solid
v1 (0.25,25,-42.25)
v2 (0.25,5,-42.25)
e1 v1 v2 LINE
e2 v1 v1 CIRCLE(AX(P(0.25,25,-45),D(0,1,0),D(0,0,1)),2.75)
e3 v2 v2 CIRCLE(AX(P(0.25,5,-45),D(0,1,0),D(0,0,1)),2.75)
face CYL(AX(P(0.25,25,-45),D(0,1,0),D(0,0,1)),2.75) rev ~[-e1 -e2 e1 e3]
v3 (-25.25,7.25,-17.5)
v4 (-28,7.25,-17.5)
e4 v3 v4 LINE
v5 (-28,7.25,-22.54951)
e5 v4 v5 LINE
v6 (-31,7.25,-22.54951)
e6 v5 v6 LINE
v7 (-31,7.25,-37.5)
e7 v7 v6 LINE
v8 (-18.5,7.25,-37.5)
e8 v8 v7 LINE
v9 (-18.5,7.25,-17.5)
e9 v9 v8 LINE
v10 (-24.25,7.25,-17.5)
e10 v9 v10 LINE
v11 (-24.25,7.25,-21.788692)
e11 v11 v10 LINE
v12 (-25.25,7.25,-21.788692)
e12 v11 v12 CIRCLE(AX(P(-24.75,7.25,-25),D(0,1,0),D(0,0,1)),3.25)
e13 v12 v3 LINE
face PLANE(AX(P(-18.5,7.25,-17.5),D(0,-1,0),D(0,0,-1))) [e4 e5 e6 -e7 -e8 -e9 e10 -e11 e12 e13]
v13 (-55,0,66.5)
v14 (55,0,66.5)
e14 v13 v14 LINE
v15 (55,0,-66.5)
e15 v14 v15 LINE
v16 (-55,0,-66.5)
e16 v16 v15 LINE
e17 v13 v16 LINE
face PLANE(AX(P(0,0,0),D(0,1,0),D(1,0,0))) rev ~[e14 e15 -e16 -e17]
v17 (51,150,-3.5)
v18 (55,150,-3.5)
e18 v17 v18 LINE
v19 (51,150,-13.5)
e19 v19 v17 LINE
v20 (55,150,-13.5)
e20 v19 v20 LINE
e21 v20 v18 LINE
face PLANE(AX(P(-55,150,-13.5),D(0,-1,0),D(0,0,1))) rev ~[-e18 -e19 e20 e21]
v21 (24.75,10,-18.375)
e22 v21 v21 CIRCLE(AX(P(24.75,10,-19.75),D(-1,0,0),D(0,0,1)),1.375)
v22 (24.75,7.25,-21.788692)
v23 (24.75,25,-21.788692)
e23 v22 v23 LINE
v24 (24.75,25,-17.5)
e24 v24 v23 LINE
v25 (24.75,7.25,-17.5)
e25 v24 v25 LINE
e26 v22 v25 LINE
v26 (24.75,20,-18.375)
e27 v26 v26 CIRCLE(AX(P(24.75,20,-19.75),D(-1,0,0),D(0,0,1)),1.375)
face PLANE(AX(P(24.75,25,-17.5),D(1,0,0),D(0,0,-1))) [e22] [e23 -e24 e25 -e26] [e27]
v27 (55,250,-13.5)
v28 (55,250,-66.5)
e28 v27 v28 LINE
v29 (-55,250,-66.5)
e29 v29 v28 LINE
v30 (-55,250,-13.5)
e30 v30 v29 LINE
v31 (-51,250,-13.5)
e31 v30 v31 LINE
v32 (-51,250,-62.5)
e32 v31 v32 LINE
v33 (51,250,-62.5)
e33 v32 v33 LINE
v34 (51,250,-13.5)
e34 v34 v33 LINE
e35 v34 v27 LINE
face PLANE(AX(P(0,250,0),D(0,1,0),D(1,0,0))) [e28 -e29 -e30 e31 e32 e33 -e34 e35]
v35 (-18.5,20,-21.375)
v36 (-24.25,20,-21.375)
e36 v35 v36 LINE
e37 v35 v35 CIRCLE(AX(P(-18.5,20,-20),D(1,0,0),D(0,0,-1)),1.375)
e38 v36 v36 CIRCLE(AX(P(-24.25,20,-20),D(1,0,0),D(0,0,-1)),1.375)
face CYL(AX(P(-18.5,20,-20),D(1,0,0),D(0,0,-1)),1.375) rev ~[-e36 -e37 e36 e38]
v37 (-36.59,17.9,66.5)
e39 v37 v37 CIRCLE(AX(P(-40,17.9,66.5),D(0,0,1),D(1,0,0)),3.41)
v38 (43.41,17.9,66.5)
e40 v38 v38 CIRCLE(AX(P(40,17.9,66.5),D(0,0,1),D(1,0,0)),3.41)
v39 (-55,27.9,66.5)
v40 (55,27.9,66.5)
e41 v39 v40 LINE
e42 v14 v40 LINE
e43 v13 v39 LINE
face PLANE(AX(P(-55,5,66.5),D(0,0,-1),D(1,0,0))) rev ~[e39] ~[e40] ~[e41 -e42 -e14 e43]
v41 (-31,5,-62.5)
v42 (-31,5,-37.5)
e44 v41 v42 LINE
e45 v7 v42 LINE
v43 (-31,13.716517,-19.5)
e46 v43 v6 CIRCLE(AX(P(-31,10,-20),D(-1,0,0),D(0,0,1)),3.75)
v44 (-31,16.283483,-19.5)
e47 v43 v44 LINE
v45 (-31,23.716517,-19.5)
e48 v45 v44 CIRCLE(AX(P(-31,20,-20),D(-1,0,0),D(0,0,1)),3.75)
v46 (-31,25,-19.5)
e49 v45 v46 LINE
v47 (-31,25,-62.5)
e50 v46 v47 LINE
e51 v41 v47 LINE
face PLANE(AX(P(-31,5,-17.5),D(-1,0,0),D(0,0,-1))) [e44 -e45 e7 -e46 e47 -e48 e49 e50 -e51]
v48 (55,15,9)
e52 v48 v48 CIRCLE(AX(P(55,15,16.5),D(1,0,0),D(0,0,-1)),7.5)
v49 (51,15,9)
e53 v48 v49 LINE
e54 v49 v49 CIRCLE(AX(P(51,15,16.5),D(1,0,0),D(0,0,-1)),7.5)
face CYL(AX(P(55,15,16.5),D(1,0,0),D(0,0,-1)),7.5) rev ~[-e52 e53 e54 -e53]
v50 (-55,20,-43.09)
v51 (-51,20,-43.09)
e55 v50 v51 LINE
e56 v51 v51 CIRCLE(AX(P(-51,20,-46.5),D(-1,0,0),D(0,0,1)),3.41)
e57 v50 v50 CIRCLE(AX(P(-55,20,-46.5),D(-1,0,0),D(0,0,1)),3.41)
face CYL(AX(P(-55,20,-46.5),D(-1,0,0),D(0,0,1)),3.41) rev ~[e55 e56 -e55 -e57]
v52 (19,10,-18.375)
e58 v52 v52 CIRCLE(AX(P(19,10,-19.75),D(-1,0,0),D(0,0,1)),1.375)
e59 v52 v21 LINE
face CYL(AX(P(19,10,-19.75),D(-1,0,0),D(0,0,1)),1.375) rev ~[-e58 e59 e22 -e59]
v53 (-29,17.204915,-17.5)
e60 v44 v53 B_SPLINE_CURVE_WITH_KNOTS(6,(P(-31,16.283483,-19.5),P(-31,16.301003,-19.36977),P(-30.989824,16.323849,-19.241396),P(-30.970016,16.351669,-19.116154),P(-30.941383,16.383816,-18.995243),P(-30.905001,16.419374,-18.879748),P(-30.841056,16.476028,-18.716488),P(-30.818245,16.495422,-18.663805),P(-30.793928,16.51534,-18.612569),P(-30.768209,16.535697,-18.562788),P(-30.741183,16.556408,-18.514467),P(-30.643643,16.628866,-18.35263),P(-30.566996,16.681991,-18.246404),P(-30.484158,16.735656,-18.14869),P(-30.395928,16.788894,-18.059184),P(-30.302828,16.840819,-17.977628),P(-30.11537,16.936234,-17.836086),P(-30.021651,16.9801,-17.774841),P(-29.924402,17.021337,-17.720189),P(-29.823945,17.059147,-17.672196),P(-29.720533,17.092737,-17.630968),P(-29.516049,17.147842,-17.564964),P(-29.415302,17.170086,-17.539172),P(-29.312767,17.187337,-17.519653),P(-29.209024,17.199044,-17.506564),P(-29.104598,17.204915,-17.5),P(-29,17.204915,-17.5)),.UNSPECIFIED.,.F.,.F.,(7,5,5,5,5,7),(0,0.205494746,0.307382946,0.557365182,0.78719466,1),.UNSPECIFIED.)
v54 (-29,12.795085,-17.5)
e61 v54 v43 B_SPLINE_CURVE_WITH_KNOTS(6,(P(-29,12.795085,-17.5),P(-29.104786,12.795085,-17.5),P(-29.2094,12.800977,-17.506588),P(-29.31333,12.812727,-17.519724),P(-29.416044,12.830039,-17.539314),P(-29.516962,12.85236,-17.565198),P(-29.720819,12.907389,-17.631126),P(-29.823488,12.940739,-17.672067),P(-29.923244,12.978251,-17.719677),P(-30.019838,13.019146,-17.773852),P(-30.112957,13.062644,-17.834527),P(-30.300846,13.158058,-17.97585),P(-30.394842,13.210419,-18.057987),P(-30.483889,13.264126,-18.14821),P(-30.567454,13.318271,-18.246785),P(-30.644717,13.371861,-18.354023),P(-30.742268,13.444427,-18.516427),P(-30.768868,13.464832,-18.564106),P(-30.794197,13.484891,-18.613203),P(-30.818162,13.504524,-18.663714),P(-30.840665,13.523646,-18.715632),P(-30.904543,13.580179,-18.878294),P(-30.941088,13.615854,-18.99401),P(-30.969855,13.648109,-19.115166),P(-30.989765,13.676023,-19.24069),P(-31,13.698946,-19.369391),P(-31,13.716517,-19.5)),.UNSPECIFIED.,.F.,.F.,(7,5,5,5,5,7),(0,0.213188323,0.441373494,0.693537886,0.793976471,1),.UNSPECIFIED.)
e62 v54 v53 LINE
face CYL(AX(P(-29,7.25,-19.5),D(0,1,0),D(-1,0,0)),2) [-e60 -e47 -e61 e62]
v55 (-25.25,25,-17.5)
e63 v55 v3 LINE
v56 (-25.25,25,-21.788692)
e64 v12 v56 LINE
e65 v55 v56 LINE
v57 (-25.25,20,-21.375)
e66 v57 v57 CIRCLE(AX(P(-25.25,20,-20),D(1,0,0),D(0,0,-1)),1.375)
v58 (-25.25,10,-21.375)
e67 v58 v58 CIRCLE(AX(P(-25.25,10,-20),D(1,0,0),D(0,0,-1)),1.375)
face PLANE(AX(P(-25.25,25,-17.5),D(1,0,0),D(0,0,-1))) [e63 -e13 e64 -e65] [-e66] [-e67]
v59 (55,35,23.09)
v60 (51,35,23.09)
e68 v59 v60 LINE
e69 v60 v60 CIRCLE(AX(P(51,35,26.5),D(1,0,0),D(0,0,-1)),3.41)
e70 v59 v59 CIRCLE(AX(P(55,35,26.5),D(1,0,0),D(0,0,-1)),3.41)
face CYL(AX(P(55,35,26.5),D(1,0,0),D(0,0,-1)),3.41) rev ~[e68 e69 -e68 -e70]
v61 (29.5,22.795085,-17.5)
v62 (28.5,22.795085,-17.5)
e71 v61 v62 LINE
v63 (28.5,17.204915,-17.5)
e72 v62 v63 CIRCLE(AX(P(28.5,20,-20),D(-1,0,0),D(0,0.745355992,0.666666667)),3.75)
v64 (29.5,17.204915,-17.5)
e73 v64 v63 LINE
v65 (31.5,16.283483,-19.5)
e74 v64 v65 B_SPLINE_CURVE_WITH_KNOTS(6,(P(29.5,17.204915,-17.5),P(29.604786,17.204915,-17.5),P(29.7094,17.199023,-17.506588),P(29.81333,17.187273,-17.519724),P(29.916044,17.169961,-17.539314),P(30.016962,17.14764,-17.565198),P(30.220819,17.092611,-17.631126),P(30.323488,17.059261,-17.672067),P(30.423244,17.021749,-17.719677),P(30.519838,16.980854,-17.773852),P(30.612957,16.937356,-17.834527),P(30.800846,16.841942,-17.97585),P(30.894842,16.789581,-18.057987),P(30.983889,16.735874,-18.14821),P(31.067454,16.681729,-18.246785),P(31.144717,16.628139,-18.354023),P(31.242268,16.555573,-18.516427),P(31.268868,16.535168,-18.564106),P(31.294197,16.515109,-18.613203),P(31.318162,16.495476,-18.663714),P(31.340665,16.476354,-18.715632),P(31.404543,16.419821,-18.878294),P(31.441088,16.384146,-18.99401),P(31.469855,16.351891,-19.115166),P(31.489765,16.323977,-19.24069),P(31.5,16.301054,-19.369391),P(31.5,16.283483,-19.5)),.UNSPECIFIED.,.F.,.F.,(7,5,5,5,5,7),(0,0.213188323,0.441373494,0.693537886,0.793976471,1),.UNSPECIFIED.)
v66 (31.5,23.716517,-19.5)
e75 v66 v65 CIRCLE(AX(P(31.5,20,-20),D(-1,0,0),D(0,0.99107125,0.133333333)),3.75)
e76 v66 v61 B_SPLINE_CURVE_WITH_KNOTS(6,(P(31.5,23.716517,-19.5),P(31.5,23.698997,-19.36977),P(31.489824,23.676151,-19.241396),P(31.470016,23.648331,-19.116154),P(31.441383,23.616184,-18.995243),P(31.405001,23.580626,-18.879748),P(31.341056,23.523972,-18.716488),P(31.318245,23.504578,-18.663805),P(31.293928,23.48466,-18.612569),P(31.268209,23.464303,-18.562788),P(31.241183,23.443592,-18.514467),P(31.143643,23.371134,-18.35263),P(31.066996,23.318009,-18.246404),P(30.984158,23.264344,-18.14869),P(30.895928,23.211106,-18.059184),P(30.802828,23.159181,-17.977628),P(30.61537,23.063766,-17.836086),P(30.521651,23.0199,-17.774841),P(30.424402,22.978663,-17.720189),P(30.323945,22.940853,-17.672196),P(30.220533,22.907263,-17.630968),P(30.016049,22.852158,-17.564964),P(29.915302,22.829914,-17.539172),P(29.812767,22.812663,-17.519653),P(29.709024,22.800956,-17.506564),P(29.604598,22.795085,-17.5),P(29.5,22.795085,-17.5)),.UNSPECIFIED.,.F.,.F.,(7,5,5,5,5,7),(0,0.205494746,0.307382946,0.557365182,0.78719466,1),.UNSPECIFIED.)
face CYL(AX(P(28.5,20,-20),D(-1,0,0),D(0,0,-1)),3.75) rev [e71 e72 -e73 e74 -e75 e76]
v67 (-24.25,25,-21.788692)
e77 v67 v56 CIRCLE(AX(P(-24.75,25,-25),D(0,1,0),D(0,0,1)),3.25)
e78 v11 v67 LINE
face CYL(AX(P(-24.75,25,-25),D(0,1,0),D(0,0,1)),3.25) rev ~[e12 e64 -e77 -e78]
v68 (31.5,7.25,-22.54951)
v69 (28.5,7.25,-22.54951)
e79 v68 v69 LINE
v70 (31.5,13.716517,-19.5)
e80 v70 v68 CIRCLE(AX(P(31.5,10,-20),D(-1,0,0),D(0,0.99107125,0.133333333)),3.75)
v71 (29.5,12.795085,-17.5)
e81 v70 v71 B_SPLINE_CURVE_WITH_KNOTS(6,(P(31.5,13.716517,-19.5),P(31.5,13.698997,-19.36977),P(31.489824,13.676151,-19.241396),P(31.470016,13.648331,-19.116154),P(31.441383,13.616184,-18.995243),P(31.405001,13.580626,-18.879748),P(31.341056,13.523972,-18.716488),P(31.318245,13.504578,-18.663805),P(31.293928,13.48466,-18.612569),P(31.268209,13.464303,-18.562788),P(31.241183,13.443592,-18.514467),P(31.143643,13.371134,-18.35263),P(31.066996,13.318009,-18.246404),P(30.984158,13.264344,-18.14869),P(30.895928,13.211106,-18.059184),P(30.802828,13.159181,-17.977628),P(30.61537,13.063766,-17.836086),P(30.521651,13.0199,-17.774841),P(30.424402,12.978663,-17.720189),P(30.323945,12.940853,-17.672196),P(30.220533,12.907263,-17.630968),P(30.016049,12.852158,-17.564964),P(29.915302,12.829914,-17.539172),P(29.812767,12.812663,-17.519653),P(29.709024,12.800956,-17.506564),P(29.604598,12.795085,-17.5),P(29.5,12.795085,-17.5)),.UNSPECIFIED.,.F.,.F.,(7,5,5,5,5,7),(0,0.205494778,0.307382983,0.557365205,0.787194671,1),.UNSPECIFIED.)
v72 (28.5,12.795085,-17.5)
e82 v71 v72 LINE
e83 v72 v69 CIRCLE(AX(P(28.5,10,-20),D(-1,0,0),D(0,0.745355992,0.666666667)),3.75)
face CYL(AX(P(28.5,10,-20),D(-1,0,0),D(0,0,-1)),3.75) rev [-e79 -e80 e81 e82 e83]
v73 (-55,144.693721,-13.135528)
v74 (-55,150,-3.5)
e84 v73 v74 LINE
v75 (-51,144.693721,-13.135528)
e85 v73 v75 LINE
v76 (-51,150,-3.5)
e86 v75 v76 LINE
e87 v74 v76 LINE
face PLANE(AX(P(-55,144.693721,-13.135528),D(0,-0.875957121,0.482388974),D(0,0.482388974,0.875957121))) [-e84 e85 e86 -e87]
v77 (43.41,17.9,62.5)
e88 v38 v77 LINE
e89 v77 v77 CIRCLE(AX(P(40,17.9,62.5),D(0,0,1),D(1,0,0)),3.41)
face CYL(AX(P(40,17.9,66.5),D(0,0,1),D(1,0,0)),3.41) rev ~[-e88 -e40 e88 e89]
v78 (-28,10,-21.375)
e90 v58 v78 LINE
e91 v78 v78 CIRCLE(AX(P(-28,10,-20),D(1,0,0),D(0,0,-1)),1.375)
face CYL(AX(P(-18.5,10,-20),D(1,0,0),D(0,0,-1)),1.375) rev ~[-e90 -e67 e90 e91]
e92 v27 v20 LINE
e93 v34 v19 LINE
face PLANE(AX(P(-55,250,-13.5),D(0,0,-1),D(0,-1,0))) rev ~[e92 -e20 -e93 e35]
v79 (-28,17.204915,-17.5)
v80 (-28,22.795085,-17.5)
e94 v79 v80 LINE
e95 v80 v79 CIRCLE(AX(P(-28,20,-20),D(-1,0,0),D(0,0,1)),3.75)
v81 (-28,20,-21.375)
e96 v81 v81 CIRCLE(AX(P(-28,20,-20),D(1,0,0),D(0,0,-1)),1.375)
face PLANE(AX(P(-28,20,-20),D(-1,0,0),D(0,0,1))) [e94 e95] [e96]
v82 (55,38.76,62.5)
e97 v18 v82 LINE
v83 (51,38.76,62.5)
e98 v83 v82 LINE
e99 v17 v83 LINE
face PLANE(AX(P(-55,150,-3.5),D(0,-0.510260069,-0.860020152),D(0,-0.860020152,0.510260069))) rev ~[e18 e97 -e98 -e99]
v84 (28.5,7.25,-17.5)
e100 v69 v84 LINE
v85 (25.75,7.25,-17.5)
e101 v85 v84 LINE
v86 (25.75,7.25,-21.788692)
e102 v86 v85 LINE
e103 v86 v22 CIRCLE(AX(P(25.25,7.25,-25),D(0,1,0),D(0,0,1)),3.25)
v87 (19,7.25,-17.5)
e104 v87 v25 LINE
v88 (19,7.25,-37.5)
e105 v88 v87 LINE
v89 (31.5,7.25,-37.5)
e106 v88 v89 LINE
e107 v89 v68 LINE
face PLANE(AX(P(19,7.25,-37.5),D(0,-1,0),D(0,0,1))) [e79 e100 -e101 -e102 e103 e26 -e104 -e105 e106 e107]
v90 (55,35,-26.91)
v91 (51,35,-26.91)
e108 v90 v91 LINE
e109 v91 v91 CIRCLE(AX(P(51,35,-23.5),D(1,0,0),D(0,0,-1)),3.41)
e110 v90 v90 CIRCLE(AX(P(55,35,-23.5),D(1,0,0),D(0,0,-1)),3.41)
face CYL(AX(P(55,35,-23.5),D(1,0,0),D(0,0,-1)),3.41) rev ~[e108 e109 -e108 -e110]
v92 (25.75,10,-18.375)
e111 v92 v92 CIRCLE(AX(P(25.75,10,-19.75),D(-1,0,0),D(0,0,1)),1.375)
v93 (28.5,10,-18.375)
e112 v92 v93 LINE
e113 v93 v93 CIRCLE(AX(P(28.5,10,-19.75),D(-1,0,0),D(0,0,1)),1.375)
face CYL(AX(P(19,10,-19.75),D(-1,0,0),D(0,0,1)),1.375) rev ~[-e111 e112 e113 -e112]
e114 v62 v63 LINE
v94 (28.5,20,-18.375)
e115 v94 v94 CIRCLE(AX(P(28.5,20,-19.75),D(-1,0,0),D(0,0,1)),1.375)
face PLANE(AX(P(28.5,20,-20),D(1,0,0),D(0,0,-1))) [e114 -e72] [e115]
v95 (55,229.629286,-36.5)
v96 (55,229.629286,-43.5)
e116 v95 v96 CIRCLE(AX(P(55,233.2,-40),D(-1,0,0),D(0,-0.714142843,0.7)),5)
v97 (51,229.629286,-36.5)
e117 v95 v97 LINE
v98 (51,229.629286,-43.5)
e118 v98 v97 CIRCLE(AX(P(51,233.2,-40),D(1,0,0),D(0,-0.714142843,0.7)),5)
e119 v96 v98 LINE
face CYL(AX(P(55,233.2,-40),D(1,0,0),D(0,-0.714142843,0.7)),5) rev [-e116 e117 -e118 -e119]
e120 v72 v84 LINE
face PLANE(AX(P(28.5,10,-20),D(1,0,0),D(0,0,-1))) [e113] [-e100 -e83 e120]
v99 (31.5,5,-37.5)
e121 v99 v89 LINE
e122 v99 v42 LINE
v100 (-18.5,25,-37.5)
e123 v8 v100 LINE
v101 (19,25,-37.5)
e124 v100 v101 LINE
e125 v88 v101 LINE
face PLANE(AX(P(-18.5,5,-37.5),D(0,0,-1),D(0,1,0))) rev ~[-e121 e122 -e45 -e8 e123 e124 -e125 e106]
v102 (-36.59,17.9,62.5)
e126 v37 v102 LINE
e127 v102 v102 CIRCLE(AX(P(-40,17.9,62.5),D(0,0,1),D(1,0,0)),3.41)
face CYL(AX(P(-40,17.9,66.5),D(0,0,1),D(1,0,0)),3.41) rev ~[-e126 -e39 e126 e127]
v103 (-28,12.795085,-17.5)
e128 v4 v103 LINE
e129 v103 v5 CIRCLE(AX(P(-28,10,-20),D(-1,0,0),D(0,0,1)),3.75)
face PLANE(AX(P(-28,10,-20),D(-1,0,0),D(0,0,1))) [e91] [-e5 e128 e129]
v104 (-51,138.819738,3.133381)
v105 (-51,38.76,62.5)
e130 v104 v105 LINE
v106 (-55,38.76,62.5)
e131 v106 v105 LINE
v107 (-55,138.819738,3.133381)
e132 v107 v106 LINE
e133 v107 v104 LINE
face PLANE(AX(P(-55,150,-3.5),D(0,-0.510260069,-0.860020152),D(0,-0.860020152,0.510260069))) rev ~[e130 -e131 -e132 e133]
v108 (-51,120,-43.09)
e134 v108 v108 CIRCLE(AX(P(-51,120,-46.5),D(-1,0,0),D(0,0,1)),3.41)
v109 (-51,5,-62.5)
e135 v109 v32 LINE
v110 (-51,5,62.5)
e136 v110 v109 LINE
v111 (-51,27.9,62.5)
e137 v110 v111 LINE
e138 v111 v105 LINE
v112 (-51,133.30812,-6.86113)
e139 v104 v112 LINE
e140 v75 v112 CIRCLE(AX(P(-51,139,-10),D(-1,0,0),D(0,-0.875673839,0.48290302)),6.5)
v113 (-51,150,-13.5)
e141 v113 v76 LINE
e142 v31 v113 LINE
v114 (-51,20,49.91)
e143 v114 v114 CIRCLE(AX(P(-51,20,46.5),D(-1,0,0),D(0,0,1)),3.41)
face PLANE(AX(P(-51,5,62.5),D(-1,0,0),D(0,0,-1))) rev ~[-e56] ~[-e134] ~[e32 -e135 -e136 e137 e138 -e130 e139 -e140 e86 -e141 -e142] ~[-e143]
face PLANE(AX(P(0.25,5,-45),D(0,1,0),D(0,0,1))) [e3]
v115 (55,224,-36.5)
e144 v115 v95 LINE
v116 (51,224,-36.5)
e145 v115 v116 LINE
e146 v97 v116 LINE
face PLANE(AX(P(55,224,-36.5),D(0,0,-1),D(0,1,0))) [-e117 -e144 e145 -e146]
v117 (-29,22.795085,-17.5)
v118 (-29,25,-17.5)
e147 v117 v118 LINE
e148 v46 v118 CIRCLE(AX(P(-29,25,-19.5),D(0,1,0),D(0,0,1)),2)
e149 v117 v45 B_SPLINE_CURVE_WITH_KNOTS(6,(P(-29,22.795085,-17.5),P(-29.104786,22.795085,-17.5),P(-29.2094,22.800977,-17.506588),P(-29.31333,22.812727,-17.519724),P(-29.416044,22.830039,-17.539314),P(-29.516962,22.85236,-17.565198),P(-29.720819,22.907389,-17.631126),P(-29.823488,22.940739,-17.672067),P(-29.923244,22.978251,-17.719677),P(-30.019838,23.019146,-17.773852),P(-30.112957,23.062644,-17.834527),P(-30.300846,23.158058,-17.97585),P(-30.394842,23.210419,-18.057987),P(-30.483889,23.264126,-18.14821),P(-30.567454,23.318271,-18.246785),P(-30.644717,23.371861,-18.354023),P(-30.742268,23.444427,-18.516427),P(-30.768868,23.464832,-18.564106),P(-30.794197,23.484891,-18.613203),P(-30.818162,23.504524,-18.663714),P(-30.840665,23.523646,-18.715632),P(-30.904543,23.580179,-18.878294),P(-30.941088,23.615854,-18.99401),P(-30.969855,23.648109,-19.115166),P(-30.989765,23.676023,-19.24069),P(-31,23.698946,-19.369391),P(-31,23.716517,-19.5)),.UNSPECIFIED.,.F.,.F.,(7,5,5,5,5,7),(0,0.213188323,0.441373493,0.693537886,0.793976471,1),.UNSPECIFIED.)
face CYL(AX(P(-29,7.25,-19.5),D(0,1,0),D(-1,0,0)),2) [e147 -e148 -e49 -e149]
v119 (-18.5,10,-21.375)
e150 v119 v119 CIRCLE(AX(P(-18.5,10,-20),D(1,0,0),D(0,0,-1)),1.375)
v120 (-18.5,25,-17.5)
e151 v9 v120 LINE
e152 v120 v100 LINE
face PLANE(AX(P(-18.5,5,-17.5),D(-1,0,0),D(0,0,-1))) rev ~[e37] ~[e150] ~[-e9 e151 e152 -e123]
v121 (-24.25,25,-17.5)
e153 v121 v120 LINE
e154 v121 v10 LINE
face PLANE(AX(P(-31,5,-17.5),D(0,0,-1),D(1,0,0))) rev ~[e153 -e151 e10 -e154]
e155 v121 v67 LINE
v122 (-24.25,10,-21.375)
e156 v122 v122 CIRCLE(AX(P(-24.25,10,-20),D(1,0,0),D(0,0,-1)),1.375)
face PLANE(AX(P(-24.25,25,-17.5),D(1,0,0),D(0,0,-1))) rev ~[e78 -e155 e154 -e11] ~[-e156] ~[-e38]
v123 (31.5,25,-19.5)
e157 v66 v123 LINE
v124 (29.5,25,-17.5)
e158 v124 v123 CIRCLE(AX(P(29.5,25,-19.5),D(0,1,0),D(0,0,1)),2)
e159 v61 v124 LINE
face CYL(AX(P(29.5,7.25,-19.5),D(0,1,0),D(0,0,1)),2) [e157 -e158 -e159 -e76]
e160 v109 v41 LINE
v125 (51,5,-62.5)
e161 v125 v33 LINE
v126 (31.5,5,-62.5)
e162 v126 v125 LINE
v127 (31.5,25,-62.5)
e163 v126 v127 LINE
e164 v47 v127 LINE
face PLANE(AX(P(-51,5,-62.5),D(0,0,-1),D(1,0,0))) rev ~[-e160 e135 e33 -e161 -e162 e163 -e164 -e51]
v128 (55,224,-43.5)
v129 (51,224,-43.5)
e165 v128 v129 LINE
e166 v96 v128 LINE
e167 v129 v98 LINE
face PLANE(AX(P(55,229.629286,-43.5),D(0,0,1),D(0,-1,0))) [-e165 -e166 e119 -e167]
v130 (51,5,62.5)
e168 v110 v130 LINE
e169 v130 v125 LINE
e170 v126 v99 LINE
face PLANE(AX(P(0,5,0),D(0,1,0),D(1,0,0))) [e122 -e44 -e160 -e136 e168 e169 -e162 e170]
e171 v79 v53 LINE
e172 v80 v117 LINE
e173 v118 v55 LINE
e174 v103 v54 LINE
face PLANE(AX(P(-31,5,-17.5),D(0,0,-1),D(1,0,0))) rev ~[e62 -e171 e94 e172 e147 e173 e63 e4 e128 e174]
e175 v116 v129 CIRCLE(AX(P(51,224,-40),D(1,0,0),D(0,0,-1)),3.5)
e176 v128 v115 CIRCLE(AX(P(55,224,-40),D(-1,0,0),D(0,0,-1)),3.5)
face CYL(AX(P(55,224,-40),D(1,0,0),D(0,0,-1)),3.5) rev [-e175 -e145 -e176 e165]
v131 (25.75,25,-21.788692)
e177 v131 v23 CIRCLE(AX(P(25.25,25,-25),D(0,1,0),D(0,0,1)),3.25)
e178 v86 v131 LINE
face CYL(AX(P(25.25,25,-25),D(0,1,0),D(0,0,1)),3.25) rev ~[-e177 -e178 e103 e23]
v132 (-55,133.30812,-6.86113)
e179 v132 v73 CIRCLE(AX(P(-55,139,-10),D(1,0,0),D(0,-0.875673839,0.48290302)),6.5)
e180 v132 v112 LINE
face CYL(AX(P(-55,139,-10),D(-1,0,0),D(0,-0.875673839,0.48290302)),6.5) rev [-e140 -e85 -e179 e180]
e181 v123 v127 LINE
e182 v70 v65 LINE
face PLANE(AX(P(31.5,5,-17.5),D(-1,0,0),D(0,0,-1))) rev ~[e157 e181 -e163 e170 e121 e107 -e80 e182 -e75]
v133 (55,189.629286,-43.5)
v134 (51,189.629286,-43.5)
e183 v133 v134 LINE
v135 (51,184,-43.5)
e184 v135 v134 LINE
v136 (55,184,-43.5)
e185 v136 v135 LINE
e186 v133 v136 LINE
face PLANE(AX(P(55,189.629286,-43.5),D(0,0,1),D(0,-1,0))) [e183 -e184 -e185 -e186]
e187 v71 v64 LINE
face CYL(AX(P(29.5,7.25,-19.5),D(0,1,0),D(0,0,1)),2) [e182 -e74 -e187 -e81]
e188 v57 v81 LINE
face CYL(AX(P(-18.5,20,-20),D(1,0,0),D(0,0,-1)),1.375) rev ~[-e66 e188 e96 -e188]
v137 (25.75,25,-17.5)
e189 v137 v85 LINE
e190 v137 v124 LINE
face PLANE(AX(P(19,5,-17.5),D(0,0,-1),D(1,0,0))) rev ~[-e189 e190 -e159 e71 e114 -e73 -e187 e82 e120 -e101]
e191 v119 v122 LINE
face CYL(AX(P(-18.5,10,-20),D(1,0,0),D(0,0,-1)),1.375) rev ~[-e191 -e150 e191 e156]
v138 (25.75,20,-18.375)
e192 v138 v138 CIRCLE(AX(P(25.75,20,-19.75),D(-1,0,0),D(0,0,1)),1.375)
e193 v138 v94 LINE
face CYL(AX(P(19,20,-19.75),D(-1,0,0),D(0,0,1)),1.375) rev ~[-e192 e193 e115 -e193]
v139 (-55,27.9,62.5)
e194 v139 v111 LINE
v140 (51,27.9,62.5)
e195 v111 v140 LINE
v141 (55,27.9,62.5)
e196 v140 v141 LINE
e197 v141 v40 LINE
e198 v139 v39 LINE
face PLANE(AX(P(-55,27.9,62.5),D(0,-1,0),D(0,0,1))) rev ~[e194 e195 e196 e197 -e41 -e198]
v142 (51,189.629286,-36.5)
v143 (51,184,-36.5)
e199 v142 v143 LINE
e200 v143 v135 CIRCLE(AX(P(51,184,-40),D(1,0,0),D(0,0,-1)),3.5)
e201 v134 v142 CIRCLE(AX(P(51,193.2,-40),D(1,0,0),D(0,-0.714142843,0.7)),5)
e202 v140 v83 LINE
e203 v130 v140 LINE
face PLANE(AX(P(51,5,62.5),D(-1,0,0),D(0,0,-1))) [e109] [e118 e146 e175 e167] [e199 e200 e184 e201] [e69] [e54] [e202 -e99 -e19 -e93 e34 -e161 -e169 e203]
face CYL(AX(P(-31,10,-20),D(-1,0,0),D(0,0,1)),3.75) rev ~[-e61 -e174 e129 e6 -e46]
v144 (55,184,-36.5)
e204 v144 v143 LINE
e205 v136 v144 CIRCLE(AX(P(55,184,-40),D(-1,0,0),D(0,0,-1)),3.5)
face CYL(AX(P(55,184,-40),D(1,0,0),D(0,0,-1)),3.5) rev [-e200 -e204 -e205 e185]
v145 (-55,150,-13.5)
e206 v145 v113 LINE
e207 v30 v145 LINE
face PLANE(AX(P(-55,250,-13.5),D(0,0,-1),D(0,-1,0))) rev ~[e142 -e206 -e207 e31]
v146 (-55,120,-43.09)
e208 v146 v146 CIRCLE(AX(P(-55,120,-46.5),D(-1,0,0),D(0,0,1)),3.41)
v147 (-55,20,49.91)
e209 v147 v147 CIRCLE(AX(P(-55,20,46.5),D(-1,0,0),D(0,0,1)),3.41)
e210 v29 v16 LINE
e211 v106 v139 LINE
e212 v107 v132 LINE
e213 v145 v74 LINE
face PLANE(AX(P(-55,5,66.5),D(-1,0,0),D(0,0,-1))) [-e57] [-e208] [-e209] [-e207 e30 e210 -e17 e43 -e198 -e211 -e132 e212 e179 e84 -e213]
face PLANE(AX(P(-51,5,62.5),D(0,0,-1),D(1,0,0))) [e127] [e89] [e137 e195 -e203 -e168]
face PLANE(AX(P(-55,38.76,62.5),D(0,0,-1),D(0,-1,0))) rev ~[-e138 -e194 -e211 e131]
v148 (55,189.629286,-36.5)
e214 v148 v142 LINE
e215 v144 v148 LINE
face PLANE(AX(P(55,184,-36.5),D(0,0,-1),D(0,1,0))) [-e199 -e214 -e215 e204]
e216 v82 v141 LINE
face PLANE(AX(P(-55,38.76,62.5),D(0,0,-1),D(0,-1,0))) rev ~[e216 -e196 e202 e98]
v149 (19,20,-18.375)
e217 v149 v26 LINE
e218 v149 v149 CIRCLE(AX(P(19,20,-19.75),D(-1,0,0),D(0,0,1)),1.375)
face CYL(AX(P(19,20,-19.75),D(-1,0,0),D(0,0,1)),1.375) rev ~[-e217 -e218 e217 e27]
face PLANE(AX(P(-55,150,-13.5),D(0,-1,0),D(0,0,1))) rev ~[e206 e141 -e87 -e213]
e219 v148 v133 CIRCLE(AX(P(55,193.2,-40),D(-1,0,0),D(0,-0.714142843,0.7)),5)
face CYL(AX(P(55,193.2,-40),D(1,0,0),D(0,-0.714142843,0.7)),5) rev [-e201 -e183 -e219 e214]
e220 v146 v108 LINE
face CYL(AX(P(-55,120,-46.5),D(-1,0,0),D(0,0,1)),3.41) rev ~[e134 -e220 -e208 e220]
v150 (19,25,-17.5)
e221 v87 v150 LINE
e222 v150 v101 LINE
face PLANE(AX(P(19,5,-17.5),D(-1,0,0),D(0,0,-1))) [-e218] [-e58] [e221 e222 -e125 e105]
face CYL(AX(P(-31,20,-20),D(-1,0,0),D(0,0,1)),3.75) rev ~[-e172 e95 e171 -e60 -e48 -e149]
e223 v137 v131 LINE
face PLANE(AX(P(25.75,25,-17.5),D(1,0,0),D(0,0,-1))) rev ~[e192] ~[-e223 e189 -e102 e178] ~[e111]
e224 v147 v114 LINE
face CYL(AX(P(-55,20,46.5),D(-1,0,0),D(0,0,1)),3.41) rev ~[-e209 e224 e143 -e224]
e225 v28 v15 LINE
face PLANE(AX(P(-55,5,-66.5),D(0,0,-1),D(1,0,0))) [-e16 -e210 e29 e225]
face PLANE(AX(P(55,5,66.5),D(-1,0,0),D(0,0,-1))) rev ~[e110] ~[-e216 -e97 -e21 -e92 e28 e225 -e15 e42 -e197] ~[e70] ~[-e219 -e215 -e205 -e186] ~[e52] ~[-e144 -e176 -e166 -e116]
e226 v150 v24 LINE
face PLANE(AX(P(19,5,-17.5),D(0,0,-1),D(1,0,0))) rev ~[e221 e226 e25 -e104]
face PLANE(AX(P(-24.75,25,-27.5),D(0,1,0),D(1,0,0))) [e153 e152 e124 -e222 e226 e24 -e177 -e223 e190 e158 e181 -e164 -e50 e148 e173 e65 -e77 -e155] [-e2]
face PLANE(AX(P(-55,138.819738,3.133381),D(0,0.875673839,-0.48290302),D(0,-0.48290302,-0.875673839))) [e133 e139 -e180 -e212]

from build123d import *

# Parameters (mm, degrees)
SKETCH3_W           = 110
SKETCH3_H           = 133
BOSS_EXTRUDE1_DEPTH = 5
SKETCH4_W           = 110
SKETCH4_H           = 133
SKETCH4_W_2         = 102
SKETCH4_H_2         = 125
BOSS_EXTRUDE2_DEPTH = 245
CUT_EXTRUDE1_DEPTH  = 282.108964638
SKETCH6_W           = 62.5
SKETCH6_H           = 25
BOSS_EXTRUDE3_DEPTH = 20
SKETCH7_R           = 2.75
CUT_EXTRUDE2_DEPTH  = 20
SKETCH8_W           = 12.5
SKETCH8_H           = 20
BOSS_EXTRUDE4_DEPTH = 20
SKETCH9_R           = 3.25
CUT_EXTRUDE3_DEPTH  = 20
SKETCH10_W          = 20
SKETCH10_H          = 2.25
CUT_EXTRUDE4_DEPTH  = 12.6
SKETCH12_W          = 20
SKETCH12_H          = 2.25
CUT_EXTRUDE5_DEPTH  = 12.6
FILLET1_R           = 2
FILLET2_R           = 2
SKETCH13_W          = 1
SKETCH13_H          = 5.289798983
CUT_EXTRUDE6_DEPTH  = 20
SKETCH14_R          = 1.375
CUT_EXTRUDE7_DEPTH  = 20
SKETCH15_R          = 1.375
CUT_EXTRUDE8_DEPTH  = 20
SKETCH16_R          = 3.75
CUT_EXTRUDE9_DEPTH  = 3
CUT_EXTRUDE10_START = -3
SKETCH17_R          = 3.75
CUT_EXTRUDE10_DEPTH = 3
SKETCH18_R          = 3.41
CUT_EXTRUDE11_DEPTH = 5
SKETCH19_R          = 3.41
CUT_EXTRUDE12_DEPTH = 5
CUT_EXTRUDE13_DEPTH = 5
SKETCH21_R          = 7.5
CUT_EXTRUDE14_DEPTH = 5
SKETCH22_R          = 3.41
CUT_EXTRUDE15_DEPTH = 5
CUT_EXTRUDE16_DEPTH = 5


with BuildPart() as part:
    # Sketch3 → Boss-Extrude1 (new body)
    with BuildSketch(Plane(origin=(0, 0, 0), x_dir=(1, 0, 0), z_dir=(0, 1, 0))):
        Rectangle(SKETCH3_W, SKETCH3_H)
    extrude(amount=BOSS_EXTRUDE1_DEPTH)

    # Sketch4 → Boss-Extrude2 (add)
    with BuildSketch(Plane(origin=(0, 5, 0), x_dir=(1, 0, 0), z_dir=(0, 1, 0))):
        Rectangle(SKETCH4_W, SKETCH4_H)
        Rectangle(SKETCH4_W_2, SKETCH4_H_2, mode=Mode.SUBTRACT)
    extrude(amount=BOSS_EXTRUDE2_DEPTH)

    # Sketch5 → Cut-Extrude1 (cut, through all)
    with BuildSketch(Plane.ZY.offset(55)):
        Polygon((-13.5, 250), (-13.5, 150), (-3.5, 150), (62.5, 38.76), (62.5, 27.9), (66.5, 27.9), (66.5, 250), align=None)
    extrude(amount=-CUT_EXTRUDE1_DEPTH, mode=Mode.SUBTRACT)

    # Sketch6 → Boss-Extrude3 (add)
    with BuildSketch(Plane(origin=(0, 5, 0), x_dir=(1, 0, 0), z_dir=(0, 1, 0))):
        with Locations((0.25, 50)):
            Rectangle(SKETCH6_W, SKETCH6_H)
    extrude(amount=BOSS_EXTRUDE3_DEPTH)

    # Sketch7 → Cut-Extrude2 (cut)
    with BuildSketch(Plane(origin=(0, 25, 0), x_dir=(1, 0, 0), z_dir=(0, 1, 0))):
        with Locations(Location((0.25, 45, 0), (0, 0, 270))):
            Circle(SKETCH7_R)
    extrude(amount=-CUT_EXTRUDE2_DEPTH, mode=Mode.SUBTRACT)

    # Sketch8 → Boss-Extrude4 (add)
    with BuildSketch(Plane(origin=(0, 5, 0), x_dir=(1, 0, 0), z_dir=(0, 1, 0))):
        with Locations((-24.75, 27.5)):
            Rectangle(SKETCH8_W, SKETCH8_H)
        with Locations((25.25, 27.5)):
            Rectangle(SKETCH8_W, SKETCH8_H)
    extrude(amount=BOSS_EXTRUDE4_DEPTH)

    # Sketch9 → Cut-Extrude3 (cut)
    with BuildSketch(Plane(origin=(0, 25, 0), x_dir=(1, 0, 0), z_dir=(0, 1, 0))):
        with Locations(Location((-24.75, 25, 0), (0, 0, 270))):
            Circle(SKETCH9_R)
        with Locations(Location((25.25, 25, 0), (0, 0, 270))):
            Circle(SKETCH9_R)
    extrude(amount=-CUT_EXTRUDE3_DEPTH, mode=Mode.SUBTRACT)

    # Sketch10 → Cut-Extrude4 (cut)
    with BuildSketch(Plane(origin=(-18.5, 0, 0), x_dir=(0, 0, -1), z_dir=(1, 0, 0))):
        with Locations((27.5, 6.125)):
            Rectangle(SKETCH10_W, SKETCH10_H)
    extrude(amount=-CUT_EXTRUDE4_DEPTH, mode=Mode.SUBTRACT)

    # Sketch12 → Cut-Extrude5 (cut)
    with BuildSketch(Plane.ZY.offset(-19)):
        with Locations((-27.5, 6.125)):
            Rectangle(SKETCH12_W, SKETCH12_H)
    extrude(amount=-CUT_EXTRUDE5_DEPTH, mode=Mode.SUBTRACT)

    # Fillet1
    fillet1_edges = [part.edges().sort_by_distance(p)[0] for p in [
        (31.5, 16.125, -17.5),
    ]]
    fillet(fillet1_edges, radius=FILLET1_R)

    # Fillet2
    fillet2_edges = [part.edges().sort_by_distance(p)[0] for p in [
        (-31, 16.125, -17.5),
    ]]
    fillet(fillet2_edges, radius=FILLET2_R)

    # Sketch13 → Cut-Extrude6 (cut)
    with BuildSketch(Plane(origin=(0, 25, 0), x_dir=(1, 0, 0), z_dir=(0, 1, 0))):
        with Locations((25.25, 20.144899491)):
            Rectangle(SKETCH13_W, SKETCH13_H)
        with Locations((-24.75, 20.144899491)):
            Rectangle(SKETCH13_W, SKETCH13_H)
    extrude(amount=-CUT_EXTRUDE6_DEPTH, mode=Mode.SUBTRACT)

    # Sketch14 → Cut-Extrude7 (cut)
    with BuildSketch(Plane(origin=(-18.5, 0, 0), x_dir=(0, 0, -1), z_dir=(1, 0, 0))):
        with Locations((20, 20)):
            Circle(SKETCH14_R)
        with Locations((20, 10)):
            Circle(SKETCH14_R)
    extrude(amount=-CUT_EXTRUDE7_DEPTH, mode=Mode.SUBTRACT)

    # Sketch15 → Cut-Extrude8 (cut)
    with BuildSketch(Plane.ZY.offset(-19)):
        with Locations((-19.75, 20)):
            Circle(SKETCH15_R)
        with Locations((-19.75, 10)):
            Circle(SKETCH15_R)
    extrude(amount=-CUT_EXTRUDE8_DEPTH, mode=Mode.SUBTRACT)

    # Sketch16 → Cut-Extrude9 (cut)
    with BuildSketch(Plane.ZY.offset(31)):
        with Locations((-20, 20)):
            Circle(SKETCH16_R)
        with Locations((-20, 10)):
            Circle(SKETCH16_R)
    extrude(amount=-CUT_EXTRUDE9_DEPTH, mode=Mode.SUBTRACT)

    # Sketch17 → Cut-Extrude10 (cut)
    with BuildSketch(Plane(origin=(31.5, 0, 0), x_dir=(0, 0, -1), z_dir=(1, 0, 0)).offset(CUT_EXTRUDE10_START)):
        with Locations((20, 20)):
            Circle(SKETCH17_R)
        with Locations((20, 10)):
            Circle(SKETCH17_R)
    extrude(amount=CUT_EXTRUDE10_DEPTH, mode=Mode.SUBTRACT)

    # Sketch18 → Cut-Extrude11 (cut)
    with BuildSketch(Plane.XY.offset(66.5)):
        with Locations((-40, 17.9)):
            Circle(SKETCH18_R)
        with Locations((40, 17.9)):
            Circle(SKETCH18_R)
    extrude(amount=-CUT_EXTRUDE11_DEPTH, mode=Mode.SUBTRACT)

    # Sketch19 → Cut-Extrude12 (cut)
    with BuildSketch(Plane.ZY.offset(55)):
        with Locations((-46.5, 120)):
            Circle(SKETCH19_R)
        with Locations((-46.5, 20)):
            Circle(SKETCH19_R)
        with Locations((46.5, 20)):
            Circle(SKETCH19_R)
    extrude(amount=-CUT_EXTRUDE12_DEPTH, mode=Mode.SUBTRACT)

    # Sketch20 → Cut-Extrude13 (cut)
    with BuildSketch(Plane.ZY.offset(55)):
        with BuildLine():
            Line((3.133380894, 138.819738021), (-6.861130368, 133.308120044))
            ThreePointArc((-6.861130368, 133.308120044), (-15.692800866, 135.862800883), (-13.135528331, 144.693721286))
            Line((-13.135528331, 144.693721286), (-3.5, 150))
            Line((-3.5, 150), (3.133380894, 138.819738021))
        make_face()
    extrude(amount=-CUT_EXTRUDE13_DEPTH, mode=Mode.SUBTRACT)

    # Sketch21 → Cut-Extrude14 (cut)
    with BuildSketch(Plane(origin=(55, 0, 0), x_dir=(0, 0, -1), z_dir=(1, 0, 0))):
        with Locations((-16.5, 15)):
            Circle(SKETCH21_R)
    extrude(amount=-CUT_EXTRUDE14_DEPTH, mode=Mode.SUBTRACT)

    # Sketch22 → Cut-Extrude15 (cut)
    with BuildSketch(Plane(origin=(55, 0, 0), x_dir=(0, 0, -1), z_dir=(1, 0, 0))):
        with Locations((-26.5, 35)):
            Circle(SKETCH22_R)
        with Locations((23.5, 35)):
            Circle(SKETCH22_R)
    extrude(amount=-CUT_EXTRUDE15_DEPTH, mode=Mode.SUBTRACT)

    # Sketch23 → Cut-Extrude16 (cut)
    with BuildSketch(Plane(origin=(55, 0, 0), x_dir=(0, 0, -1), z_dir=(1, 0, 0))):
        with BuildLine():
            Line((36.5, 224), (36.5, 229.629285786))
            ThreePointArc((36.5, 229.629285786), (40, 238.2), (43.5, 229.629285786))
            Line((43.5, 229.629285786), (43.5, 224))
            ThreePointArc((43.5, 224), (40, 220.5), (36.5, 224))
        make_face()
        with BuildLine():
            Line((36.5, 184), (36.5, 189.629285786))
            ThreePointArc((36.5, 189.629285786), (40, 198.2), (43.5, 189.629285786))
            Line((43.5, 189.629285786), (43.5, 184))
            ThreePointArc((43.5, 184), (40, 180.5), (36.5, 184))
        make_face()
    extrude(amount=-CUT_EXTRUDE16_DEPTH, mode=Mode.SUBTRACT)


solid = part.part
